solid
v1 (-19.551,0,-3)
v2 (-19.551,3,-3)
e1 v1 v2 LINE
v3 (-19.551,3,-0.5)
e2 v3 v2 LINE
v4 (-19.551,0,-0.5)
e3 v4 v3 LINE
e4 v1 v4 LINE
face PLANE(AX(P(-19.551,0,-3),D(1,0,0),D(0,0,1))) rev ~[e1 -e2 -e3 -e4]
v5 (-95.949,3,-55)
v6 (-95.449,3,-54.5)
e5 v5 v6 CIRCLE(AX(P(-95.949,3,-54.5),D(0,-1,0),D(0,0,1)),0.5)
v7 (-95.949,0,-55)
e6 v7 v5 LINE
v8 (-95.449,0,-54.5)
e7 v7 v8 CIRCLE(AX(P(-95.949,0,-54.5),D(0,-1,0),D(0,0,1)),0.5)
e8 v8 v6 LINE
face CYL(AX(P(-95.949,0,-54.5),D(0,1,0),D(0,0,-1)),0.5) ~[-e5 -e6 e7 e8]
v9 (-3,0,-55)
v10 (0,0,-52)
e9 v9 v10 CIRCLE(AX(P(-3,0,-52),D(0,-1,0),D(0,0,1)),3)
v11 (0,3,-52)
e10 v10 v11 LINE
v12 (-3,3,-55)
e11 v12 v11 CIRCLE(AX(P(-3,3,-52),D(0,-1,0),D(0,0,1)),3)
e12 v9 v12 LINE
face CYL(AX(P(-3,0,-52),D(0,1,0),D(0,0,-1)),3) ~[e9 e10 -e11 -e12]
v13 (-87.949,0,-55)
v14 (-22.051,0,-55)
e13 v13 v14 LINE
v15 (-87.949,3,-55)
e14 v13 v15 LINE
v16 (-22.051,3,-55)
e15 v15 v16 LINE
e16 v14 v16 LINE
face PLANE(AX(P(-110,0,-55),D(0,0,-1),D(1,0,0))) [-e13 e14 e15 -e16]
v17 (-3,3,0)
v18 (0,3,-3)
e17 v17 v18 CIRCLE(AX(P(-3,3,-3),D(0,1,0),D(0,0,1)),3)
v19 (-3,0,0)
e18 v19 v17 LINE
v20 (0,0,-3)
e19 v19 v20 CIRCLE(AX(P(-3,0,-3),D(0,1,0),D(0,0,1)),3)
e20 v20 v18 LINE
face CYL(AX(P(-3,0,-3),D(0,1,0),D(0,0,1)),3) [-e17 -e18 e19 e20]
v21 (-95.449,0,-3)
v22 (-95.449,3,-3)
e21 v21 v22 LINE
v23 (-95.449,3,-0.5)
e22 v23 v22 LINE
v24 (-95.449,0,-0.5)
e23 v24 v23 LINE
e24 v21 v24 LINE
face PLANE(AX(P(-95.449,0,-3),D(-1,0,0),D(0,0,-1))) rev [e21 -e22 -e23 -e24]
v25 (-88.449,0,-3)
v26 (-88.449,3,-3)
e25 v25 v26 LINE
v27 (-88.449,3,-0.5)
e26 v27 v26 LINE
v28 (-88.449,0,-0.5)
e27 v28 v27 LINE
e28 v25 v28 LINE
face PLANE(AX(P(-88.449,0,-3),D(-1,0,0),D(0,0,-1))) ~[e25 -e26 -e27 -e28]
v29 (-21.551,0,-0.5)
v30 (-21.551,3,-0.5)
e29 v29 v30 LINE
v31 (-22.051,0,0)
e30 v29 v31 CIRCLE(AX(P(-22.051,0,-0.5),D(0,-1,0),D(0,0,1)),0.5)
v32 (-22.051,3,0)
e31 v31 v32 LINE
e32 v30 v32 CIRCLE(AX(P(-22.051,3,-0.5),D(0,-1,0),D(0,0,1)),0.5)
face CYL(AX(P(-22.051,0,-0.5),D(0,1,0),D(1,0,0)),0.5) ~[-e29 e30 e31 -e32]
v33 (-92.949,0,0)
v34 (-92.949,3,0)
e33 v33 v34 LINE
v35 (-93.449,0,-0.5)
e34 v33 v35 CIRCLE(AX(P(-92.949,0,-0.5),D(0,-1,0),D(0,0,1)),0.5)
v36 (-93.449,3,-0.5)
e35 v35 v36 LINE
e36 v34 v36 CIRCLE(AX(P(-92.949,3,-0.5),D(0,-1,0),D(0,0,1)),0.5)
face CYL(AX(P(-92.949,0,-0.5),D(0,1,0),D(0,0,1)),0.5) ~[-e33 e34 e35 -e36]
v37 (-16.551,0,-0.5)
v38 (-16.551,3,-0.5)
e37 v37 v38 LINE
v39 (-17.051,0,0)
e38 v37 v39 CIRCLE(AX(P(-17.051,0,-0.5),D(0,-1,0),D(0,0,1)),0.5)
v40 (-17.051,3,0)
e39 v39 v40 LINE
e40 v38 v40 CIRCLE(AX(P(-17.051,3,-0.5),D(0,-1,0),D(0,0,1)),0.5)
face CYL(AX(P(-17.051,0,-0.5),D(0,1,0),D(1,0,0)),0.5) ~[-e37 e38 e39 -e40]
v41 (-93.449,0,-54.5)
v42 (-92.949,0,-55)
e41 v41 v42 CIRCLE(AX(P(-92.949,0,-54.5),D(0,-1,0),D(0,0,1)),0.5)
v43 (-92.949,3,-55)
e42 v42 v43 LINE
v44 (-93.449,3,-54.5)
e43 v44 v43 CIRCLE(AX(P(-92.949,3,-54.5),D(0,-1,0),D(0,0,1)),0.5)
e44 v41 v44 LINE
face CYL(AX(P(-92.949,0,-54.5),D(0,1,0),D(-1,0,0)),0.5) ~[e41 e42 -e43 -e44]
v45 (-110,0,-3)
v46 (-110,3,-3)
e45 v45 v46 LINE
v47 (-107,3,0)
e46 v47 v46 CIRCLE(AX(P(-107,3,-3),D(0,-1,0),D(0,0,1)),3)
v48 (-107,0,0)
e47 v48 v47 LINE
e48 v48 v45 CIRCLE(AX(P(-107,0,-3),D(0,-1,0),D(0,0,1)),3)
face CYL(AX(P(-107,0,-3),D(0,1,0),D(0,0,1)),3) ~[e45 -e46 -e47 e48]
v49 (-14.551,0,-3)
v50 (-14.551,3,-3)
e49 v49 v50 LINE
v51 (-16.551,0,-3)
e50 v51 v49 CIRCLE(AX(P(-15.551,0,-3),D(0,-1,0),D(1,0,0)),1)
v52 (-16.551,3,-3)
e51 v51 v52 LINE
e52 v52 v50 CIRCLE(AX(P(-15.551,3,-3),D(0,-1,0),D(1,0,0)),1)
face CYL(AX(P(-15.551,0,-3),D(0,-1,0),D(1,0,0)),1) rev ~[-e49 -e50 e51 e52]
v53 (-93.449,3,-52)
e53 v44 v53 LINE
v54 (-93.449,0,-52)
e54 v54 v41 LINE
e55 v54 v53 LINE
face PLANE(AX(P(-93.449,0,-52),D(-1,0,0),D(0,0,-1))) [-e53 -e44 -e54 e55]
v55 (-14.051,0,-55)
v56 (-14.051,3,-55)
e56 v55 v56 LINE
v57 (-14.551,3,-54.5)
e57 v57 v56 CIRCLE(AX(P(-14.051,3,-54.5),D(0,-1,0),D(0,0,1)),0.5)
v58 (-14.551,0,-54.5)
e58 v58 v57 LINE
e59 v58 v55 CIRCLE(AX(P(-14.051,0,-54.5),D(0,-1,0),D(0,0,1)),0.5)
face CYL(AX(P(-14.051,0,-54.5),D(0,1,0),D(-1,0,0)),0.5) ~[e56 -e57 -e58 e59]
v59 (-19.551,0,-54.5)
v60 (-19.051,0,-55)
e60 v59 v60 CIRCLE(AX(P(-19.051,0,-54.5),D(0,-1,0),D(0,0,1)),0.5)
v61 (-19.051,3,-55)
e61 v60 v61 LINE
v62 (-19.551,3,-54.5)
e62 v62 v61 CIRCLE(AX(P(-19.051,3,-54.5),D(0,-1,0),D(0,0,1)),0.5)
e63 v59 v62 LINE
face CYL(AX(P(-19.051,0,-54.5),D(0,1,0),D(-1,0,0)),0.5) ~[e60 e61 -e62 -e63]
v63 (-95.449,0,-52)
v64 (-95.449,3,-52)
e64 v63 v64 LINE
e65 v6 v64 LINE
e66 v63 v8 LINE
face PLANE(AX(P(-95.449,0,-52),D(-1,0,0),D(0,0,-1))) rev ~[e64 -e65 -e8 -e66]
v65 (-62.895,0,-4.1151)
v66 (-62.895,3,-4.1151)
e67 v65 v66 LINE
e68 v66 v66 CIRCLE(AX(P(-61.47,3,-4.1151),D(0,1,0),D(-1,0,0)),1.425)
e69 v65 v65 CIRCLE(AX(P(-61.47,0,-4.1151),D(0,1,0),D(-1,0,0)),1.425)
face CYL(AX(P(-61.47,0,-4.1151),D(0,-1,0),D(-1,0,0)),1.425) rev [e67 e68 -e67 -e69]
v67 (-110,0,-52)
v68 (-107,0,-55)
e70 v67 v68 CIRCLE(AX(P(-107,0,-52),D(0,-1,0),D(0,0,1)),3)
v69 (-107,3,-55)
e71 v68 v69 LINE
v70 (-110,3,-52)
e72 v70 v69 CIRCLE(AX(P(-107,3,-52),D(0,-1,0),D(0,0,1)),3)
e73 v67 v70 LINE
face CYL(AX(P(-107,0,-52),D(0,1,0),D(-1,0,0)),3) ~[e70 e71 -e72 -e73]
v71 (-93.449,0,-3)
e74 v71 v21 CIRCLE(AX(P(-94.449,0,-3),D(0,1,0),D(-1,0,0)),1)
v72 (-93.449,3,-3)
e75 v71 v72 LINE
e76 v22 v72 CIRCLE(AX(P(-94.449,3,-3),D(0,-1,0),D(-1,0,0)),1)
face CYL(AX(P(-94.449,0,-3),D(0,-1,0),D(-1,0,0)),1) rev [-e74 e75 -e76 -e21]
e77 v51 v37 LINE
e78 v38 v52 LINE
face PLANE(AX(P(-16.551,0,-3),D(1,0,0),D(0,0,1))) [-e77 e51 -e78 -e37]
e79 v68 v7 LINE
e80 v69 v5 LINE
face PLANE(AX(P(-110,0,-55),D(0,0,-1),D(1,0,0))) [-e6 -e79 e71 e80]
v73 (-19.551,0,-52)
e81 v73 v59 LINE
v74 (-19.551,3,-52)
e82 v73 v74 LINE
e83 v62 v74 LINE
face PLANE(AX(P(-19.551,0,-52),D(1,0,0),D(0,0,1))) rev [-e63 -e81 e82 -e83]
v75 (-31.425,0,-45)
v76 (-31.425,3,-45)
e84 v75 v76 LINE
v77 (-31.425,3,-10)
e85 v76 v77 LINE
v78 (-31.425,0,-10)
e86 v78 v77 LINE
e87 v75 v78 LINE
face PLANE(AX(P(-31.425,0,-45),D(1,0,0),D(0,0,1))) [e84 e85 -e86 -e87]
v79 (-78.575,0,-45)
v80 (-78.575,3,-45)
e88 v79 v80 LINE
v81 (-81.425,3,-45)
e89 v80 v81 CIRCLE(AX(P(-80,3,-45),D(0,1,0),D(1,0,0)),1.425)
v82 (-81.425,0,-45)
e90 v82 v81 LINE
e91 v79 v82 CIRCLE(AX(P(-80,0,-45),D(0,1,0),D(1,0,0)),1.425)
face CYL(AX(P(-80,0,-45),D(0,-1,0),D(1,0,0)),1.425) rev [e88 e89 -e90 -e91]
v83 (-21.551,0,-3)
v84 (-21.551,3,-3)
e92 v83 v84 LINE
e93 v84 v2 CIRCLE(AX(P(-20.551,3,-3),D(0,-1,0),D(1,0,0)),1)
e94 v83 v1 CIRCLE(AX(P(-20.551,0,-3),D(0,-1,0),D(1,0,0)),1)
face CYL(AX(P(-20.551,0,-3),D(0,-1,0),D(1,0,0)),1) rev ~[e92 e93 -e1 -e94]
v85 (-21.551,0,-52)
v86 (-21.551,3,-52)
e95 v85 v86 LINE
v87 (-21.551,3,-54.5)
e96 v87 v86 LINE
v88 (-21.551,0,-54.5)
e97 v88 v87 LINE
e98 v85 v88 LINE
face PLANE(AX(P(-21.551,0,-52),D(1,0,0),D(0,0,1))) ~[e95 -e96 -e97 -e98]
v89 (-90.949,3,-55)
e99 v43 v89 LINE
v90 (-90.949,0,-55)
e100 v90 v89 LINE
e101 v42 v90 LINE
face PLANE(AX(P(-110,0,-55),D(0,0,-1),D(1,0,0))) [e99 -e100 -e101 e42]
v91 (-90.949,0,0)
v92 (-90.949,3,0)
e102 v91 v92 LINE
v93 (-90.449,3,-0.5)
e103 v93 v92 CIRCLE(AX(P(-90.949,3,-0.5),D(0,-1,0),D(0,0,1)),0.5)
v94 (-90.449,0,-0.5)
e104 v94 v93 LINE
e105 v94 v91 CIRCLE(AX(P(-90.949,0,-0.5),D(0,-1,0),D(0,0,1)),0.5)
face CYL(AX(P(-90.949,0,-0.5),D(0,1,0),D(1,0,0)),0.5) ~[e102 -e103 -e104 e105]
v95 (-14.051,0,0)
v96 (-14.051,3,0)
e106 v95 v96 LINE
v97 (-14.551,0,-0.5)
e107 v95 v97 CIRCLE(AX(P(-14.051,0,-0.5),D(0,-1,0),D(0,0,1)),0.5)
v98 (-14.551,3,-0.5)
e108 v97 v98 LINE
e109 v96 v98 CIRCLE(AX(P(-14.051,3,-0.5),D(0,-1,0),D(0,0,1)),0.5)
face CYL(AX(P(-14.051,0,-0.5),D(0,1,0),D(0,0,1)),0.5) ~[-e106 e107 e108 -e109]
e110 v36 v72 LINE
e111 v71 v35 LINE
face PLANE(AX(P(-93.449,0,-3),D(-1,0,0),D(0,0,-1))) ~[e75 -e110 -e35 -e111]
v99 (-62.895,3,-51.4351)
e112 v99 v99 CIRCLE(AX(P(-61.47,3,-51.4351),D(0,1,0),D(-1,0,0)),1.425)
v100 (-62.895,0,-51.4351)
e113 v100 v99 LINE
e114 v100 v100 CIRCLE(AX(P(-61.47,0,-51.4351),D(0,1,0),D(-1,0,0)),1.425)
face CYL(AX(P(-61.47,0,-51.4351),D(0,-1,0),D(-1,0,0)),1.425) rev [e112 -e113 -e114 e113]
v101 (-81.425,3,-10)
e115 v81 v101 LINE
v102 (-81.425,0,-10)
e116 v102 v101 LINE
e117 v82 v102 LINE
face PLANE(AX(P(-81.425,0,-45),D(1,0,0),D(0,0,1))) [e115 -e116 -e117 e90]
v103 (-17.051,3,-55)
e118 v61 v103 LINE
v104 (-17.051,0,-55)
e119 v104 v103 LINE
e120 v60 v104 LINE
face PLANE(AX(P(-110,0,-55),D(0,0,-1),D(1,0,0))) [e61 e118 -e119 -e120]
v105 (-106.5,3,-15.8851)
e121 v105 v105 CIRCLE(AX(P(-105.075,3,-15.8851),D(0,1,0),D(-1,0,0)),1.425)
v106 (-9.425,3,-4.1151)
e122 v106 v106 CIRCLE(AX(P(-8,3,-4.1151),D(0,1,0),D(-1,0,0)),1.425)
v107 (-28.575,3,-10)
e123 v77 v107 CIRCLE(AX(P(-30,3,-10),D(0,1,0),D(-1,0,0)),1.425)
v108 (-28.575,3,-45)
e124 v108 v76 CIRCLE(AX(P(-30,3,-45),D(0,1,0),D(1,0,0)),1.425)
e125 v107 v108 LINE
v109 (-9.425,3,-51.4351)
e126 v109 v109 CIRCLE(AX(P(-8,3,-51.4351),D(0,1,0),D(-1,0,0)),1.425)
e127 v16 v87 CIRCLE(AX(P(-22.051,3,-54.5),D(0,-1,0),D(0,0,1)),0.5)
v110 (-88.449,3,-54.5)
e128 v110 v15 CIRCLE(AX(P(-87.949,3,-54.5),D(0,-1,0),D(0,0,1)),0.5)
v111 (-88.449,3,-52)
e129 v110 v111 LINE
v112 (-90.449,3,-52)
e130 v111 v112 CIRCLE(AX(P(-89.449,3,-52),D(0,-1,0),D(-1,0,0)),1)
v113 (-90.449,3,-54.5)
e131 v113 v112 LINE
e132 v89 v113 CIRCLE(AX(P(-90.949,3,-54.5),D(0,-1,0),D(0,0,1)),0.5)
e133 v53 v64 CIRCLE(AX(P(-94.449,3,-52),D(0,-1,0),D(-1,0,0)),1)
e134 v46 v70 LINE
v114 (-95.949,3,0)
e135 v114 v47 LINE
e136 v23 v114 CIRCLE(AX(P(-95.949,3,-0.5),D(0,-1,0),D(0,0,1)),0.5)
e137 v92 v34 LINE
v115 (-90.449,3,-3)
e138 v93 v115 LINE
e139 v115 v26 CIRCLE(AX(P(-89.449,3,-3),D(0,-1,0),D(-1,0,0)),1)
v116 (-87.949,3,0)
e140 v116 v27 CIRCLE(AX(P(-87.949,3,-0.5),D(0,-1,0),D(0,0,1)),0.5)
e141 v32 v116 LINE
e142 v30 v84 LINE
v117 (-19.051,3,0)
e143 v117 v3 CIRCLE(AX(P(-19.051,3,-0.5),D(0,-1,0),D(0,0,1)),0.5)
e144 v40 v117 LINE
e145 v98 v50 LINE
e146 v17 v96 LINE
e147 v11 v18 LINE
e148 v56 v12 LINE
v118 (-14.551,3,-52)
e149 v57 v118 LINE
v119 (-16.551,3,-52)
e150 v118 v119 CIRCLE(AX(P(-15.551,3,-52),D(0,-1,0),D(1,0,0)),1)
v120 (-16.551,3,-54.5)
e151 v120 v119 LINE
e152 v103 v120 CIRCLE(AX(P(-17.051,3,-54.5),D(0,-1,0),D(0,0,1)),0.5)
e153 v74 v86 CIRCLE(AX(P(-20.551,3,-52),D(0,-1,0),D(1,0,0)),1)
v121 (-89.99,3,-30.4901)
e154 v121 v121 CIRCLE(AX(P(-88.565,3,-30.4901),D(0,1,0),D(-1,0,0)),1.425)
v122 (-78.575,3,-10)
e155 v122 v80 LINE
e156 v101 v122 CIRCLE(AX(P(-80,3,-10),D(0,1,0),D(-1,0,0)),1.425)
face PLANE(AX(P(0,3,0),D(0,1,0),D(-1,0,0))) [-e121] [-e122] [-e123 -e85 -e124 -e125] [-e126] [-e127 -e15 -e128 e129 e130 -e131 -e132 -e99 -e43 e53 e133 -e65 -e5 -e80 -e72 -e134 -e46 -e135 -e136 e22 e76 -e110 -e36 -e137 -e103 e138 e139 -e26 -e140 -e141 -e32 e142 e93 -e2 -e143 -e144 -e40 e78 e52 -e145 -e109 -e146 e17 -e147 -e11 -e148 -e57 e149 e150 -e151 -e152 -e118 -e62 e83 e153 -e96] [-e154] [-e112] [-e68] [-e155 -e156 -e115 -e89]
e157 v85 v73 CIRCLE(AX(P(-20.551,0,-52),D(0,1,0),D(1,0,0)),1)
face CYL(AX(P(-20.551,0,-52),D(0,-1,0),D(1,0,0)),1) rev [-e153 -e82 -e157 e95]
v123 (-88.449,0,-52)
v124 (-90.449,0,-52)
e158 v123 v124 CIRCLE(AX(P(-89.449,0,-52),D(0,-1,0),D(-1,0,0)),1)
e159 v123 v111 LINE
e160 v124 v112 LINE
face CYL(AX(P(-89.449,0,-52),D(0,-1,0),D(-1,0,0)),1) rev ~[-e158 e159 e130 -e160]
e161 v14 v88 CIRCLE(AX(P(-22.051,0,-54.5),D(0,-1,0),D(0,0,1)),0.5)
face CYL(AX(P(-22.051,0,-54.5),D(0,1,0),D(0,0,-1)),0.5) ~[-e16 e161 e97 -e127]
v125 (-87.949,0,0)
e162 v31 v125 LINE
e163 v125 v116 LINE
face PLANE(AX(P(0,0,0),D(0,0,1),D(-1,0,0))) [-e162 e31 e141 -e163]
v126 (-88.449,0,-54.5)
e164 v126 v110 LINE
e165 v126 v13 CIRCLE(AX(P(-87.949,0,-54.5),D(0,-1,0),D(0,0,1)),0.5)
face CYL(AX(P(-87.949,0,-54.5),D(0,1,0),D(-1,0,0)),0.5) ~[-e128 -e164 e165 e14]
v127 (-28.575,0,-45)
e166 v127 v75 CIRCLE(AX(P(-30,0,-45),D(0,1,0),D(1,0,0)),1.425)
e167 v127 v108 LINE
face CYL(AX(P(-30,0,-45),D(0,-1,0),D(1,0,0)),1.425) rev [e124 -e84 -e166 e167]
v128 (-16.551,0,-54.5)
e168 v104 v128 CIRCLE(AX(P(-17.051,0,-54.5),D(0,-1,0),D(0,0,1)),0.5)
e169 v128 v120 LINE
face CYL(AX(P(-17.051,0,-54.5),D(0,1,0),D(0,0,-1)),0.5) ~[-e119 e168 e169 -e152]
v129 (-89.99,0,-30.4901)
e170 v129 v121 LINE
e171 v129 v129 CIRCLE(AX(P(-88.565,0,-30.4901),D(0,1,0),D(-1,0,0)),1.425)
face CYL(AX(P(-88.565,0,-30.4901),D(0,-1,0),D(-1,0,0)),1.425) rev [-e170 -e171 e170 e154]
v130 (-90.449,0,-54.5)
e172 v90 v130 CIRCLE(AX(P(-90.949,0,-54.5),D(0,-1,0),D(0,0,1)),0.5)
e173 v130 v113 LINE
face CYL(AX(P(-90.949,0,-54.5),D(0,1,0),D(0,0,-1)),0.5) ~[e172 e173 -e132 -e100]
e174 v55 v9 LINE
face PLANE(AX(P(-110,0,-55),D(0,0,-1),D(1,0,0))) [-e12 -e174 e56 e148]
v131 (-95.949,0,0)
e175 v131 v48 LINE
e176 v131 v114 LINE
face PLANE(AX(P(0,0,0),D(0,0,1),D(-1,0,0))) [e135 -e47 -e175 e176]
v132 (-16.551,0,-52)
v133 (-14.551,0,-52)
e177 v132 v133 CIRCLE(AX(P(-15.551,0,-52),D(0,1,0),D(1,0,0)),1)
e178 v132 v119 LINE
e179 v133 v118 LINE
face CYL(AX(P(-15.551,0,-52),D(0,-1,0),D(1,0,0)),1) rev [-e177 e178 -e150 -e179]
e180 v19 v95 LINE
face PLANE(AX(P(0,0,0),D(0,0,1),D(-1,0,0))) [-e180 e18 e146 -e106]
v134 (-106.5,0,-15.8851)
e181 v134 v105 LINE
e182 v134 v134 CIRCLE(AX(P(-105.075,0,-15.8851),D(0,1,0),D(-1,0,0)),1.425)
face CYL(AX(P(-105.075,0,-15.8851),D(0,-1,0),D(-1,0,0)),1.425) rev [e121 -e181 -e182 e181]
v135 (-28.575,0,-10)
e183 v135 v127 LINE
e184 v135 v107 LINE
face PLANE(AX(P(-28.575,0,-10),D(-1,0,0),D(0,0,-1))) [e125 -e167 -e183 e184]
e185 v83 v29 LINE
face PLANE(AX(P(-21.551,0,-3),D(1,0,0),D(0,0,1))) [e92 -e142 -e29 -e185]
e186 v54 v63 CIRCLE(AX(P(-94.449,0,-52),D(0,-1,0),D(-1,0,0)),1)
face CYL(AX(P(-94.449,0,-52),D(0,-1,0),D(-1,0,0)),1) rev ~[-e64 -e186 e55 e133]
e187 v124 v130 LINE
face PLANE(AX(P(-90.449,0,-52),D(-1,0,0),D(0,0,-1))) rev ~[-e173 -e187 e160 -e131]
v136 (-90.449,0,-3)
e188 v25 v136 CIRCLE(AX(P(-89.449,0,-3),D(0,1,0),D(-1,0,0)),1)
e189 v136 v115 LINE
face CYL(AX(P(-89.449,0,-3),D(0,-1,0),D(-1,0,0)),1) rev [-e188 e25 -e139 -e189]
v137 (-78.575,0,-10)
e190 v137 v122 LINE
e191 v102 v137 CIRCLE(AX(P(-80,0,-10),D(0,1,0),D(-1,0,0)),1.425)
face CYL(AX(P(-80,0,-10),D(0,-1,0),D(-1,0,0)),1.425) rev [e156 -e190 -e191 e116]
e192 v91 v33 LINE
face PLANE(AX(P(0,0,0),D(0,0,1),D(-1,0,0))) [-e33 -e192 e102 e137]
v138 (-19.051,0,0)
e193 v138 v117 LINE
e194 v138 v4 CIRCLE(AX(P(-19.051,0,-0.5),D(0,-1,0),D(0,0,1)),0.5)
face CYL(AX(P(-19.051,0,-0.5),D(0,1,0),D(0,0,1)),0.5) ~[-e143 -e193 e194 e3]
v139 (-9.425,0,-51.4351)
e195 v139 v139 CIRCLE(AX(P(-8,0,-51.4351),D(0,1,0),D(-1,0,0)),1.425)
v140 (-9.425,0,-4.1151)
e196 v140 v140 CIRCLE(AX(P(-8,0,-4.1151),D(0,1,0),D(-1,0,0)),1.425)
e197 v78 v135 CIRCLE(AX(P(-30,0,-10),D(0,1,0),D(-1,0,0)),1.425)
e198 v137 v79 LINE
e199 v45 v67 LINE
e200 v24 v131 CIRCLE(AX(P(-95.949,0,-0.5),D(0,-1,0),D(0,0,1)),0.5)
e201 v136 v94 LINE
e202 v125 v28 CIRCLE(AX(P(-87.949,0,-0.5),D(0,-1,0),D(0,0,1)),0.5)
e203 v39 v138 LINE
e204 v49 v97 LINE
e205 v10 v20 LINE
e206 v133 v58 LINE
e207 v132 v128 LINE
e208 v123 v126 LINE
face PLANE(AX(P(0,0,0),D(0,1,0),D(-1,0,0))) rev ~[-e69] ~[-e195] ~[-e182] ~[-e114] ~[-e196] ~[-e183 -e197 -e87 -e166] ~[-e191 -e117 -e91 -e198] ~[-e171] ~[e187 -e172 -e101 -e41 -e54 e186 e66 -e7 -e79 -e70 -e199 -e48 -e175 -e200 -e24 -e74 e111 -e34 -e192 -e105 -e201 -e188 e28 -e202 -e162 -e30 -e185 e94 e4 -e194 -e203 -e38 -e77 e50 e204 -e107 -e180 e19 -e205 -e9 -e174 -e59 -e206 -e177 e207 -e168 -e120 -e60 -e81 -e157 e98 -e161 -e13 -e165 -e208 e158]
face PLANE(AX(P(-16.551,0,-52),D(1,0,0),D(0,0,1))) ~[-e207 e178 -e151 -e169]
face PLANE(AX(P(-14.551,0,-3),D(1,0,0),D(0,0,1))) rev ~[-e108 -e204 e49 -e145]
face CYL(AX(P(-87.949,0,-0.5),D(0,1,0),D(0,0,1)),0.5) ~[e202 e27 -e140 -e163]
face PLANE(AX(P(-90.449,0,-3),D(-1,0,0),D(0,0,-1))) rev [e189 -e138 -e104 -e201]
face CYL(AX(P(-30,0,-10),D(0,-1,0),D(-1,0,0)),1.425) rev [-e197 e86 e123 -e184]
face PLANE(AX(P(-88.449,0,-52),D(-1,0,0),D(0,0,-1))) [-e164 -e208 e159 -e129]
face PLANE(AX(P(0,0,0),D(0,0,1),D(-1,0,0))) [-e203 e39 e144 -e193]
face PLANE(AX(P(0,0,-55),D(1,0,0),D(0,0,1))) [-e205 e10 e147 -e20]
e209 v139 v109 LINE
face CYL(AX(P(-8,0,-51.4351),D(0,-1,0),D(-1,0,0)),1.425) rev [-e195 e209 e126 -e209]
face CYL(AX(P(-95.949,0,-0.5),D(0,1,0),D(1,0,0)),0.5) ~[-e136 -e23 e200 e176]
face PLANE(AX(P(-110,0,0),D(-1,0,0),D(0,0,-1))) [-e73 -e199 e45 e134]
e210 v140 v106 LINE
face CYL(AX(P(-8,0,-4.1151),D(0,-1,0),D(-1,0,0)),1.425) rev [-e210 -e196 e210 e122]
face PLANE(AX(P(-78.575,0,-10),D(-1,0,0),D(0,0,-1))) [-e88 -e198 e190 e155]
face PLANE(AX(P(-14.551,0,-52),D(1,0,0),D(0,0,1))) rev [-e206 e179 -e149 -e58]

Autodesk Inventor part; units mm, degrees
ref_plane "YZ Plane" through (0, 0, 0) normal (1, 0, 0) x (0, 1, 0)
ref_plane "XZ Plane" through (0, 0, 0) normal (0, 1, 0) x (-1, 0, 0)
ref_plane "XY Plane" through (0, 0, 0) normal (0, 0, 1) x (1, 0, 0)
sketch "Sketch1" plane through (0, 0, 0) normal (0, 1, 0) x (-1, 0, 0)
  line L0 (0, 0) -> (110, 0)
  line L1 (110, 0) -> (110, -55)
  line L2 (110, -55) -> (0, -55)
  line L3 (0, -55) -> (0, 0)
  line L4 (55, 0) -> (55, -55) construction
  circle A0 centre (8, -4.1151) radius 1.425
  circle A1 centre (8, -51.4351) radius 1.425
  circle A2 centre (61.47, -4.1151) radius 1.425
  circle A3 centre (61.47, -51.4351) radius 1.425
  line L5 (8, -4.1151) -> (61.47, -4.1151) construction
  line L6 (61.47, -4.1151) -> (61.47, -51.4351) construction
  line L7 (61.47, -51.4351) -> (8, -51.4351) construction
  line L8 (8, -51.4351) -> (8, -4.1151) construction
  line L9 (80, -10) -> (80, -45) construction
  line L10 (78.575, -10) -> (78.575, -45)
  line L11 (81.425, -45) -> (81.425, -10)
  arc A4 (81.425, -10) -> (78.575, -10) centre (80, -10) ccw
  arc A5 (78.575, -45) -> (81.425, -45) centre (80, -45) ccw
  line L12 (30, -10) -> (30, -45) construction
  line L13 (28.575, -10) -> (28.575, -45)
  line L14 (31.425, -45) -> (31.425, -10)
  arc A6 (31.425, -10) -> (28.575, -10) centre (30, -10) ccw
  arc A7 (28.575, -45) -> (31.425, -45) centre (30, -45) ccw
  circle A8 centre (105.075, -15.8851) radius 1.425
  circle A9 centre (88.565, -30.4901) radius 1.425
  line L15 (108, -12.9601) -> (86.41, -12.9601) construction
  line L16 (86.41, -12.9601) -> (86.41, -43.4401) construction
  line L17 (86.41, -43.4401) -> (108, -43.4401) construction
  line L18 (108, -43.4401) -> (108, -12.9601) construction
  line L19 (105.075, -15.8851) -> (108, -15.8851) construction
  line L20 (105.075, -15.8851) -> (105.075, -12.9601) construction
  point P0 (80, -27.5)
  point P1 (30, -27.5)
  point P2 (55, -27.5)
  dimension "d4" = 53.47
  dimension "d5" = 47.32
  dimension "d12" = 1.425
  dimension "d13" = 50
  dimension "d14" = 2.85
  dimension "d15" = 14.605
  dimension "d16" = 16.51
  dimension "d17" = 21.59
  dimension "d18" = 30.48
  dimension "d19" = 2.925
  dimension "d20" = 8
  dimension "d21" = 2
  dimension "d22" = 55
  dimension "d23" = 110
  dimension "d34" = 35
extrude "Extrusion1" add sketch "Sketch1" along normal blind 3
fillet "Fillet1" radius 3 4 edges at (0, 1.5, -55) (-110, 1.5, -55) (0, 1.5, 0) (-110, 1.5, 0)
sketch "Sketch2" plane through (0, 0, 0) normal (0, -1, 0) x (1, 0, 0)
  arc A0 (-28.575, -10) -> (-31.425, -10) centre (-30, -10) ccw projected
  line L0 (-28.575, -10) -> (-28.575, -45) projected
  arc A1 (-31.425, -45) -> (-28.575, -45) centre (-30, -45) ccw projected
  line L1 (-31.425, -45) -> (-31.425, -10) projected
  arc A2 (-78.575, -10) -> (-81.425, -10) centre (-80, -10) ccw projected
  line L2 (-78.575, -10) -> (-78.575, -45) projected
  arc A3 (-81.425, -45) -> (-78.575, -45) centre (-80, -45) ccw projected
  line L3 (-81.425, -45) -> (-81.425, -10) projected
  circle A4 centre (-88.565, -30.4901) radius 1.425 projected
  circle A5 centre (-105.075, -15.8851) radius 1.425 projected
  circle A6 centre (-61.47, -51.4351) radius 1.425 projected
  circle A7 centre (-61.47, -4.1151) radius 1.425 projected
  circle A8 centre (-8, -51.4351) radius 1.425 projected
  circle A9 centre (-8, -4.1151) radius 1.425 projected
  arc A10 (-107, 0) -> (-110, -3) centre (-107, -3) ccw projected
  line L4 (-110, -3) -> (-110, -52) projected
  arc A11 (-110, -52) -> (-107, -55) centre (-107, -52) ccw projected
  line L5 (-107, -55) -> (-3, -55) projected
  arc A12 (-3, -55) -> (0, -52) centre (-3, -52) ccw projected
  line L6 (0, -52) -> (0, -3) projected
  arc A13 (0, -3) -> (-3, 0) centre (-3, -3) ccw projected
  line L7 (-3, 0) -> (-107, 0) projected
  line L8 (-107, 0) -> (-3, 0) projected
  circle A14 centre (-20.937, 0) radius 1.5
  line L9 (-3, -55) -> (-107, -55) projected
  line L10 (-55, -55) -> (-55, 0) construction
  line L11 (-110, -52) -> (-110, -3) projected
  line L12 (-110, -27.5) -> (0, -27.5) construction
  circle A15 centre (-15.937, 0) radius 1.5
  circle A16 centre (-89.063, 0) radius 1.5
  circle A17 centre (-94.063, 0) radius 1.5
  circle A18 centre (-20.937, -55) radius 1.5
  circle A19 centre (-15.937, -55) radius 1.5
  circle A20 centre (-89.063, -55) radius 1.5
  circle A21 centre (-94.063, -55) radius 1.5
  point P0 (0, 0)
  dimension "d24" = 3
  dimension "d27" = 5
extrude "Extrusion2" [suppressed]
sketch "Sketch3" plane through (0, 0, 0) normal (0, -1, 0) x (1, 0, 0)
  line L0 (-3, 0) -> (-107, 0) projected
  line L1 (0, -52) -> (0, -3) projected
  line L2 (-107, -55) -> (-3, -55) projected
  line L3 (-110, -3) -> (-110, -52) projected
  circle A0 centre (-20.551, -3) radius 1
  circle A1 centre (-15.551, -3) radius 1
  line L4 (-21.551, -3) -> (-21.551, 0)
  line L5 (-19.551, -3) -> (-19.551, 0)
  line L6 (-16.551, -3) -> (-16.551, 0)
  line L7 (-14.551, -3) -> (-14.551, 0)
  point P0 (0, 0)
  dimension "d28" = 2
  dimension "d29" = 5
  dimension "d30" = 3
extrude "Extrusion3" cut sketch "Sketch3" against normal through all
ref_plane "Work Plane1" through (-107, 0, -27.5) normal (0, 0, 1) x (1, 0, 0)
ref_plane "Work Plane2" through (-55, 0, -3) normal (1, 0, 0) x (0, 0, -1)
mirror "Mirror1" about plane through (-107, 0, -27.5) normal (0, 0, 1) of "Extrusion3"
mirror "Mirror2" about plane through (-55, 0, -3) normal (1, 0, 0) of "Extrusion3", "Mirror1"
fillet "Fillet2" radius 0.5 16 edges at (-21.551, 1.5, 0) (-19.551, 1.5, 0) (-16.551, 1.5, 0) (-14.551, 1.5, 0) (-14.551, 1.5, -55) (-16.551, 1.5, -55) (-19.551, 1.5, -55) (-21.551, 1.5, -55) (-88.449, 1.5, -55) (-90.449, 1.5, -55) (-93.449, 1.5, -55) (-95.449, 1.5, -55) (-95.449, 1.5, 0) (-93.449, 1.5, 0) (-90.449, 1.5, 0) (-88.449, 1.5, 0)
properties part number "electronics_pouch" material "Wood (Birch)"
